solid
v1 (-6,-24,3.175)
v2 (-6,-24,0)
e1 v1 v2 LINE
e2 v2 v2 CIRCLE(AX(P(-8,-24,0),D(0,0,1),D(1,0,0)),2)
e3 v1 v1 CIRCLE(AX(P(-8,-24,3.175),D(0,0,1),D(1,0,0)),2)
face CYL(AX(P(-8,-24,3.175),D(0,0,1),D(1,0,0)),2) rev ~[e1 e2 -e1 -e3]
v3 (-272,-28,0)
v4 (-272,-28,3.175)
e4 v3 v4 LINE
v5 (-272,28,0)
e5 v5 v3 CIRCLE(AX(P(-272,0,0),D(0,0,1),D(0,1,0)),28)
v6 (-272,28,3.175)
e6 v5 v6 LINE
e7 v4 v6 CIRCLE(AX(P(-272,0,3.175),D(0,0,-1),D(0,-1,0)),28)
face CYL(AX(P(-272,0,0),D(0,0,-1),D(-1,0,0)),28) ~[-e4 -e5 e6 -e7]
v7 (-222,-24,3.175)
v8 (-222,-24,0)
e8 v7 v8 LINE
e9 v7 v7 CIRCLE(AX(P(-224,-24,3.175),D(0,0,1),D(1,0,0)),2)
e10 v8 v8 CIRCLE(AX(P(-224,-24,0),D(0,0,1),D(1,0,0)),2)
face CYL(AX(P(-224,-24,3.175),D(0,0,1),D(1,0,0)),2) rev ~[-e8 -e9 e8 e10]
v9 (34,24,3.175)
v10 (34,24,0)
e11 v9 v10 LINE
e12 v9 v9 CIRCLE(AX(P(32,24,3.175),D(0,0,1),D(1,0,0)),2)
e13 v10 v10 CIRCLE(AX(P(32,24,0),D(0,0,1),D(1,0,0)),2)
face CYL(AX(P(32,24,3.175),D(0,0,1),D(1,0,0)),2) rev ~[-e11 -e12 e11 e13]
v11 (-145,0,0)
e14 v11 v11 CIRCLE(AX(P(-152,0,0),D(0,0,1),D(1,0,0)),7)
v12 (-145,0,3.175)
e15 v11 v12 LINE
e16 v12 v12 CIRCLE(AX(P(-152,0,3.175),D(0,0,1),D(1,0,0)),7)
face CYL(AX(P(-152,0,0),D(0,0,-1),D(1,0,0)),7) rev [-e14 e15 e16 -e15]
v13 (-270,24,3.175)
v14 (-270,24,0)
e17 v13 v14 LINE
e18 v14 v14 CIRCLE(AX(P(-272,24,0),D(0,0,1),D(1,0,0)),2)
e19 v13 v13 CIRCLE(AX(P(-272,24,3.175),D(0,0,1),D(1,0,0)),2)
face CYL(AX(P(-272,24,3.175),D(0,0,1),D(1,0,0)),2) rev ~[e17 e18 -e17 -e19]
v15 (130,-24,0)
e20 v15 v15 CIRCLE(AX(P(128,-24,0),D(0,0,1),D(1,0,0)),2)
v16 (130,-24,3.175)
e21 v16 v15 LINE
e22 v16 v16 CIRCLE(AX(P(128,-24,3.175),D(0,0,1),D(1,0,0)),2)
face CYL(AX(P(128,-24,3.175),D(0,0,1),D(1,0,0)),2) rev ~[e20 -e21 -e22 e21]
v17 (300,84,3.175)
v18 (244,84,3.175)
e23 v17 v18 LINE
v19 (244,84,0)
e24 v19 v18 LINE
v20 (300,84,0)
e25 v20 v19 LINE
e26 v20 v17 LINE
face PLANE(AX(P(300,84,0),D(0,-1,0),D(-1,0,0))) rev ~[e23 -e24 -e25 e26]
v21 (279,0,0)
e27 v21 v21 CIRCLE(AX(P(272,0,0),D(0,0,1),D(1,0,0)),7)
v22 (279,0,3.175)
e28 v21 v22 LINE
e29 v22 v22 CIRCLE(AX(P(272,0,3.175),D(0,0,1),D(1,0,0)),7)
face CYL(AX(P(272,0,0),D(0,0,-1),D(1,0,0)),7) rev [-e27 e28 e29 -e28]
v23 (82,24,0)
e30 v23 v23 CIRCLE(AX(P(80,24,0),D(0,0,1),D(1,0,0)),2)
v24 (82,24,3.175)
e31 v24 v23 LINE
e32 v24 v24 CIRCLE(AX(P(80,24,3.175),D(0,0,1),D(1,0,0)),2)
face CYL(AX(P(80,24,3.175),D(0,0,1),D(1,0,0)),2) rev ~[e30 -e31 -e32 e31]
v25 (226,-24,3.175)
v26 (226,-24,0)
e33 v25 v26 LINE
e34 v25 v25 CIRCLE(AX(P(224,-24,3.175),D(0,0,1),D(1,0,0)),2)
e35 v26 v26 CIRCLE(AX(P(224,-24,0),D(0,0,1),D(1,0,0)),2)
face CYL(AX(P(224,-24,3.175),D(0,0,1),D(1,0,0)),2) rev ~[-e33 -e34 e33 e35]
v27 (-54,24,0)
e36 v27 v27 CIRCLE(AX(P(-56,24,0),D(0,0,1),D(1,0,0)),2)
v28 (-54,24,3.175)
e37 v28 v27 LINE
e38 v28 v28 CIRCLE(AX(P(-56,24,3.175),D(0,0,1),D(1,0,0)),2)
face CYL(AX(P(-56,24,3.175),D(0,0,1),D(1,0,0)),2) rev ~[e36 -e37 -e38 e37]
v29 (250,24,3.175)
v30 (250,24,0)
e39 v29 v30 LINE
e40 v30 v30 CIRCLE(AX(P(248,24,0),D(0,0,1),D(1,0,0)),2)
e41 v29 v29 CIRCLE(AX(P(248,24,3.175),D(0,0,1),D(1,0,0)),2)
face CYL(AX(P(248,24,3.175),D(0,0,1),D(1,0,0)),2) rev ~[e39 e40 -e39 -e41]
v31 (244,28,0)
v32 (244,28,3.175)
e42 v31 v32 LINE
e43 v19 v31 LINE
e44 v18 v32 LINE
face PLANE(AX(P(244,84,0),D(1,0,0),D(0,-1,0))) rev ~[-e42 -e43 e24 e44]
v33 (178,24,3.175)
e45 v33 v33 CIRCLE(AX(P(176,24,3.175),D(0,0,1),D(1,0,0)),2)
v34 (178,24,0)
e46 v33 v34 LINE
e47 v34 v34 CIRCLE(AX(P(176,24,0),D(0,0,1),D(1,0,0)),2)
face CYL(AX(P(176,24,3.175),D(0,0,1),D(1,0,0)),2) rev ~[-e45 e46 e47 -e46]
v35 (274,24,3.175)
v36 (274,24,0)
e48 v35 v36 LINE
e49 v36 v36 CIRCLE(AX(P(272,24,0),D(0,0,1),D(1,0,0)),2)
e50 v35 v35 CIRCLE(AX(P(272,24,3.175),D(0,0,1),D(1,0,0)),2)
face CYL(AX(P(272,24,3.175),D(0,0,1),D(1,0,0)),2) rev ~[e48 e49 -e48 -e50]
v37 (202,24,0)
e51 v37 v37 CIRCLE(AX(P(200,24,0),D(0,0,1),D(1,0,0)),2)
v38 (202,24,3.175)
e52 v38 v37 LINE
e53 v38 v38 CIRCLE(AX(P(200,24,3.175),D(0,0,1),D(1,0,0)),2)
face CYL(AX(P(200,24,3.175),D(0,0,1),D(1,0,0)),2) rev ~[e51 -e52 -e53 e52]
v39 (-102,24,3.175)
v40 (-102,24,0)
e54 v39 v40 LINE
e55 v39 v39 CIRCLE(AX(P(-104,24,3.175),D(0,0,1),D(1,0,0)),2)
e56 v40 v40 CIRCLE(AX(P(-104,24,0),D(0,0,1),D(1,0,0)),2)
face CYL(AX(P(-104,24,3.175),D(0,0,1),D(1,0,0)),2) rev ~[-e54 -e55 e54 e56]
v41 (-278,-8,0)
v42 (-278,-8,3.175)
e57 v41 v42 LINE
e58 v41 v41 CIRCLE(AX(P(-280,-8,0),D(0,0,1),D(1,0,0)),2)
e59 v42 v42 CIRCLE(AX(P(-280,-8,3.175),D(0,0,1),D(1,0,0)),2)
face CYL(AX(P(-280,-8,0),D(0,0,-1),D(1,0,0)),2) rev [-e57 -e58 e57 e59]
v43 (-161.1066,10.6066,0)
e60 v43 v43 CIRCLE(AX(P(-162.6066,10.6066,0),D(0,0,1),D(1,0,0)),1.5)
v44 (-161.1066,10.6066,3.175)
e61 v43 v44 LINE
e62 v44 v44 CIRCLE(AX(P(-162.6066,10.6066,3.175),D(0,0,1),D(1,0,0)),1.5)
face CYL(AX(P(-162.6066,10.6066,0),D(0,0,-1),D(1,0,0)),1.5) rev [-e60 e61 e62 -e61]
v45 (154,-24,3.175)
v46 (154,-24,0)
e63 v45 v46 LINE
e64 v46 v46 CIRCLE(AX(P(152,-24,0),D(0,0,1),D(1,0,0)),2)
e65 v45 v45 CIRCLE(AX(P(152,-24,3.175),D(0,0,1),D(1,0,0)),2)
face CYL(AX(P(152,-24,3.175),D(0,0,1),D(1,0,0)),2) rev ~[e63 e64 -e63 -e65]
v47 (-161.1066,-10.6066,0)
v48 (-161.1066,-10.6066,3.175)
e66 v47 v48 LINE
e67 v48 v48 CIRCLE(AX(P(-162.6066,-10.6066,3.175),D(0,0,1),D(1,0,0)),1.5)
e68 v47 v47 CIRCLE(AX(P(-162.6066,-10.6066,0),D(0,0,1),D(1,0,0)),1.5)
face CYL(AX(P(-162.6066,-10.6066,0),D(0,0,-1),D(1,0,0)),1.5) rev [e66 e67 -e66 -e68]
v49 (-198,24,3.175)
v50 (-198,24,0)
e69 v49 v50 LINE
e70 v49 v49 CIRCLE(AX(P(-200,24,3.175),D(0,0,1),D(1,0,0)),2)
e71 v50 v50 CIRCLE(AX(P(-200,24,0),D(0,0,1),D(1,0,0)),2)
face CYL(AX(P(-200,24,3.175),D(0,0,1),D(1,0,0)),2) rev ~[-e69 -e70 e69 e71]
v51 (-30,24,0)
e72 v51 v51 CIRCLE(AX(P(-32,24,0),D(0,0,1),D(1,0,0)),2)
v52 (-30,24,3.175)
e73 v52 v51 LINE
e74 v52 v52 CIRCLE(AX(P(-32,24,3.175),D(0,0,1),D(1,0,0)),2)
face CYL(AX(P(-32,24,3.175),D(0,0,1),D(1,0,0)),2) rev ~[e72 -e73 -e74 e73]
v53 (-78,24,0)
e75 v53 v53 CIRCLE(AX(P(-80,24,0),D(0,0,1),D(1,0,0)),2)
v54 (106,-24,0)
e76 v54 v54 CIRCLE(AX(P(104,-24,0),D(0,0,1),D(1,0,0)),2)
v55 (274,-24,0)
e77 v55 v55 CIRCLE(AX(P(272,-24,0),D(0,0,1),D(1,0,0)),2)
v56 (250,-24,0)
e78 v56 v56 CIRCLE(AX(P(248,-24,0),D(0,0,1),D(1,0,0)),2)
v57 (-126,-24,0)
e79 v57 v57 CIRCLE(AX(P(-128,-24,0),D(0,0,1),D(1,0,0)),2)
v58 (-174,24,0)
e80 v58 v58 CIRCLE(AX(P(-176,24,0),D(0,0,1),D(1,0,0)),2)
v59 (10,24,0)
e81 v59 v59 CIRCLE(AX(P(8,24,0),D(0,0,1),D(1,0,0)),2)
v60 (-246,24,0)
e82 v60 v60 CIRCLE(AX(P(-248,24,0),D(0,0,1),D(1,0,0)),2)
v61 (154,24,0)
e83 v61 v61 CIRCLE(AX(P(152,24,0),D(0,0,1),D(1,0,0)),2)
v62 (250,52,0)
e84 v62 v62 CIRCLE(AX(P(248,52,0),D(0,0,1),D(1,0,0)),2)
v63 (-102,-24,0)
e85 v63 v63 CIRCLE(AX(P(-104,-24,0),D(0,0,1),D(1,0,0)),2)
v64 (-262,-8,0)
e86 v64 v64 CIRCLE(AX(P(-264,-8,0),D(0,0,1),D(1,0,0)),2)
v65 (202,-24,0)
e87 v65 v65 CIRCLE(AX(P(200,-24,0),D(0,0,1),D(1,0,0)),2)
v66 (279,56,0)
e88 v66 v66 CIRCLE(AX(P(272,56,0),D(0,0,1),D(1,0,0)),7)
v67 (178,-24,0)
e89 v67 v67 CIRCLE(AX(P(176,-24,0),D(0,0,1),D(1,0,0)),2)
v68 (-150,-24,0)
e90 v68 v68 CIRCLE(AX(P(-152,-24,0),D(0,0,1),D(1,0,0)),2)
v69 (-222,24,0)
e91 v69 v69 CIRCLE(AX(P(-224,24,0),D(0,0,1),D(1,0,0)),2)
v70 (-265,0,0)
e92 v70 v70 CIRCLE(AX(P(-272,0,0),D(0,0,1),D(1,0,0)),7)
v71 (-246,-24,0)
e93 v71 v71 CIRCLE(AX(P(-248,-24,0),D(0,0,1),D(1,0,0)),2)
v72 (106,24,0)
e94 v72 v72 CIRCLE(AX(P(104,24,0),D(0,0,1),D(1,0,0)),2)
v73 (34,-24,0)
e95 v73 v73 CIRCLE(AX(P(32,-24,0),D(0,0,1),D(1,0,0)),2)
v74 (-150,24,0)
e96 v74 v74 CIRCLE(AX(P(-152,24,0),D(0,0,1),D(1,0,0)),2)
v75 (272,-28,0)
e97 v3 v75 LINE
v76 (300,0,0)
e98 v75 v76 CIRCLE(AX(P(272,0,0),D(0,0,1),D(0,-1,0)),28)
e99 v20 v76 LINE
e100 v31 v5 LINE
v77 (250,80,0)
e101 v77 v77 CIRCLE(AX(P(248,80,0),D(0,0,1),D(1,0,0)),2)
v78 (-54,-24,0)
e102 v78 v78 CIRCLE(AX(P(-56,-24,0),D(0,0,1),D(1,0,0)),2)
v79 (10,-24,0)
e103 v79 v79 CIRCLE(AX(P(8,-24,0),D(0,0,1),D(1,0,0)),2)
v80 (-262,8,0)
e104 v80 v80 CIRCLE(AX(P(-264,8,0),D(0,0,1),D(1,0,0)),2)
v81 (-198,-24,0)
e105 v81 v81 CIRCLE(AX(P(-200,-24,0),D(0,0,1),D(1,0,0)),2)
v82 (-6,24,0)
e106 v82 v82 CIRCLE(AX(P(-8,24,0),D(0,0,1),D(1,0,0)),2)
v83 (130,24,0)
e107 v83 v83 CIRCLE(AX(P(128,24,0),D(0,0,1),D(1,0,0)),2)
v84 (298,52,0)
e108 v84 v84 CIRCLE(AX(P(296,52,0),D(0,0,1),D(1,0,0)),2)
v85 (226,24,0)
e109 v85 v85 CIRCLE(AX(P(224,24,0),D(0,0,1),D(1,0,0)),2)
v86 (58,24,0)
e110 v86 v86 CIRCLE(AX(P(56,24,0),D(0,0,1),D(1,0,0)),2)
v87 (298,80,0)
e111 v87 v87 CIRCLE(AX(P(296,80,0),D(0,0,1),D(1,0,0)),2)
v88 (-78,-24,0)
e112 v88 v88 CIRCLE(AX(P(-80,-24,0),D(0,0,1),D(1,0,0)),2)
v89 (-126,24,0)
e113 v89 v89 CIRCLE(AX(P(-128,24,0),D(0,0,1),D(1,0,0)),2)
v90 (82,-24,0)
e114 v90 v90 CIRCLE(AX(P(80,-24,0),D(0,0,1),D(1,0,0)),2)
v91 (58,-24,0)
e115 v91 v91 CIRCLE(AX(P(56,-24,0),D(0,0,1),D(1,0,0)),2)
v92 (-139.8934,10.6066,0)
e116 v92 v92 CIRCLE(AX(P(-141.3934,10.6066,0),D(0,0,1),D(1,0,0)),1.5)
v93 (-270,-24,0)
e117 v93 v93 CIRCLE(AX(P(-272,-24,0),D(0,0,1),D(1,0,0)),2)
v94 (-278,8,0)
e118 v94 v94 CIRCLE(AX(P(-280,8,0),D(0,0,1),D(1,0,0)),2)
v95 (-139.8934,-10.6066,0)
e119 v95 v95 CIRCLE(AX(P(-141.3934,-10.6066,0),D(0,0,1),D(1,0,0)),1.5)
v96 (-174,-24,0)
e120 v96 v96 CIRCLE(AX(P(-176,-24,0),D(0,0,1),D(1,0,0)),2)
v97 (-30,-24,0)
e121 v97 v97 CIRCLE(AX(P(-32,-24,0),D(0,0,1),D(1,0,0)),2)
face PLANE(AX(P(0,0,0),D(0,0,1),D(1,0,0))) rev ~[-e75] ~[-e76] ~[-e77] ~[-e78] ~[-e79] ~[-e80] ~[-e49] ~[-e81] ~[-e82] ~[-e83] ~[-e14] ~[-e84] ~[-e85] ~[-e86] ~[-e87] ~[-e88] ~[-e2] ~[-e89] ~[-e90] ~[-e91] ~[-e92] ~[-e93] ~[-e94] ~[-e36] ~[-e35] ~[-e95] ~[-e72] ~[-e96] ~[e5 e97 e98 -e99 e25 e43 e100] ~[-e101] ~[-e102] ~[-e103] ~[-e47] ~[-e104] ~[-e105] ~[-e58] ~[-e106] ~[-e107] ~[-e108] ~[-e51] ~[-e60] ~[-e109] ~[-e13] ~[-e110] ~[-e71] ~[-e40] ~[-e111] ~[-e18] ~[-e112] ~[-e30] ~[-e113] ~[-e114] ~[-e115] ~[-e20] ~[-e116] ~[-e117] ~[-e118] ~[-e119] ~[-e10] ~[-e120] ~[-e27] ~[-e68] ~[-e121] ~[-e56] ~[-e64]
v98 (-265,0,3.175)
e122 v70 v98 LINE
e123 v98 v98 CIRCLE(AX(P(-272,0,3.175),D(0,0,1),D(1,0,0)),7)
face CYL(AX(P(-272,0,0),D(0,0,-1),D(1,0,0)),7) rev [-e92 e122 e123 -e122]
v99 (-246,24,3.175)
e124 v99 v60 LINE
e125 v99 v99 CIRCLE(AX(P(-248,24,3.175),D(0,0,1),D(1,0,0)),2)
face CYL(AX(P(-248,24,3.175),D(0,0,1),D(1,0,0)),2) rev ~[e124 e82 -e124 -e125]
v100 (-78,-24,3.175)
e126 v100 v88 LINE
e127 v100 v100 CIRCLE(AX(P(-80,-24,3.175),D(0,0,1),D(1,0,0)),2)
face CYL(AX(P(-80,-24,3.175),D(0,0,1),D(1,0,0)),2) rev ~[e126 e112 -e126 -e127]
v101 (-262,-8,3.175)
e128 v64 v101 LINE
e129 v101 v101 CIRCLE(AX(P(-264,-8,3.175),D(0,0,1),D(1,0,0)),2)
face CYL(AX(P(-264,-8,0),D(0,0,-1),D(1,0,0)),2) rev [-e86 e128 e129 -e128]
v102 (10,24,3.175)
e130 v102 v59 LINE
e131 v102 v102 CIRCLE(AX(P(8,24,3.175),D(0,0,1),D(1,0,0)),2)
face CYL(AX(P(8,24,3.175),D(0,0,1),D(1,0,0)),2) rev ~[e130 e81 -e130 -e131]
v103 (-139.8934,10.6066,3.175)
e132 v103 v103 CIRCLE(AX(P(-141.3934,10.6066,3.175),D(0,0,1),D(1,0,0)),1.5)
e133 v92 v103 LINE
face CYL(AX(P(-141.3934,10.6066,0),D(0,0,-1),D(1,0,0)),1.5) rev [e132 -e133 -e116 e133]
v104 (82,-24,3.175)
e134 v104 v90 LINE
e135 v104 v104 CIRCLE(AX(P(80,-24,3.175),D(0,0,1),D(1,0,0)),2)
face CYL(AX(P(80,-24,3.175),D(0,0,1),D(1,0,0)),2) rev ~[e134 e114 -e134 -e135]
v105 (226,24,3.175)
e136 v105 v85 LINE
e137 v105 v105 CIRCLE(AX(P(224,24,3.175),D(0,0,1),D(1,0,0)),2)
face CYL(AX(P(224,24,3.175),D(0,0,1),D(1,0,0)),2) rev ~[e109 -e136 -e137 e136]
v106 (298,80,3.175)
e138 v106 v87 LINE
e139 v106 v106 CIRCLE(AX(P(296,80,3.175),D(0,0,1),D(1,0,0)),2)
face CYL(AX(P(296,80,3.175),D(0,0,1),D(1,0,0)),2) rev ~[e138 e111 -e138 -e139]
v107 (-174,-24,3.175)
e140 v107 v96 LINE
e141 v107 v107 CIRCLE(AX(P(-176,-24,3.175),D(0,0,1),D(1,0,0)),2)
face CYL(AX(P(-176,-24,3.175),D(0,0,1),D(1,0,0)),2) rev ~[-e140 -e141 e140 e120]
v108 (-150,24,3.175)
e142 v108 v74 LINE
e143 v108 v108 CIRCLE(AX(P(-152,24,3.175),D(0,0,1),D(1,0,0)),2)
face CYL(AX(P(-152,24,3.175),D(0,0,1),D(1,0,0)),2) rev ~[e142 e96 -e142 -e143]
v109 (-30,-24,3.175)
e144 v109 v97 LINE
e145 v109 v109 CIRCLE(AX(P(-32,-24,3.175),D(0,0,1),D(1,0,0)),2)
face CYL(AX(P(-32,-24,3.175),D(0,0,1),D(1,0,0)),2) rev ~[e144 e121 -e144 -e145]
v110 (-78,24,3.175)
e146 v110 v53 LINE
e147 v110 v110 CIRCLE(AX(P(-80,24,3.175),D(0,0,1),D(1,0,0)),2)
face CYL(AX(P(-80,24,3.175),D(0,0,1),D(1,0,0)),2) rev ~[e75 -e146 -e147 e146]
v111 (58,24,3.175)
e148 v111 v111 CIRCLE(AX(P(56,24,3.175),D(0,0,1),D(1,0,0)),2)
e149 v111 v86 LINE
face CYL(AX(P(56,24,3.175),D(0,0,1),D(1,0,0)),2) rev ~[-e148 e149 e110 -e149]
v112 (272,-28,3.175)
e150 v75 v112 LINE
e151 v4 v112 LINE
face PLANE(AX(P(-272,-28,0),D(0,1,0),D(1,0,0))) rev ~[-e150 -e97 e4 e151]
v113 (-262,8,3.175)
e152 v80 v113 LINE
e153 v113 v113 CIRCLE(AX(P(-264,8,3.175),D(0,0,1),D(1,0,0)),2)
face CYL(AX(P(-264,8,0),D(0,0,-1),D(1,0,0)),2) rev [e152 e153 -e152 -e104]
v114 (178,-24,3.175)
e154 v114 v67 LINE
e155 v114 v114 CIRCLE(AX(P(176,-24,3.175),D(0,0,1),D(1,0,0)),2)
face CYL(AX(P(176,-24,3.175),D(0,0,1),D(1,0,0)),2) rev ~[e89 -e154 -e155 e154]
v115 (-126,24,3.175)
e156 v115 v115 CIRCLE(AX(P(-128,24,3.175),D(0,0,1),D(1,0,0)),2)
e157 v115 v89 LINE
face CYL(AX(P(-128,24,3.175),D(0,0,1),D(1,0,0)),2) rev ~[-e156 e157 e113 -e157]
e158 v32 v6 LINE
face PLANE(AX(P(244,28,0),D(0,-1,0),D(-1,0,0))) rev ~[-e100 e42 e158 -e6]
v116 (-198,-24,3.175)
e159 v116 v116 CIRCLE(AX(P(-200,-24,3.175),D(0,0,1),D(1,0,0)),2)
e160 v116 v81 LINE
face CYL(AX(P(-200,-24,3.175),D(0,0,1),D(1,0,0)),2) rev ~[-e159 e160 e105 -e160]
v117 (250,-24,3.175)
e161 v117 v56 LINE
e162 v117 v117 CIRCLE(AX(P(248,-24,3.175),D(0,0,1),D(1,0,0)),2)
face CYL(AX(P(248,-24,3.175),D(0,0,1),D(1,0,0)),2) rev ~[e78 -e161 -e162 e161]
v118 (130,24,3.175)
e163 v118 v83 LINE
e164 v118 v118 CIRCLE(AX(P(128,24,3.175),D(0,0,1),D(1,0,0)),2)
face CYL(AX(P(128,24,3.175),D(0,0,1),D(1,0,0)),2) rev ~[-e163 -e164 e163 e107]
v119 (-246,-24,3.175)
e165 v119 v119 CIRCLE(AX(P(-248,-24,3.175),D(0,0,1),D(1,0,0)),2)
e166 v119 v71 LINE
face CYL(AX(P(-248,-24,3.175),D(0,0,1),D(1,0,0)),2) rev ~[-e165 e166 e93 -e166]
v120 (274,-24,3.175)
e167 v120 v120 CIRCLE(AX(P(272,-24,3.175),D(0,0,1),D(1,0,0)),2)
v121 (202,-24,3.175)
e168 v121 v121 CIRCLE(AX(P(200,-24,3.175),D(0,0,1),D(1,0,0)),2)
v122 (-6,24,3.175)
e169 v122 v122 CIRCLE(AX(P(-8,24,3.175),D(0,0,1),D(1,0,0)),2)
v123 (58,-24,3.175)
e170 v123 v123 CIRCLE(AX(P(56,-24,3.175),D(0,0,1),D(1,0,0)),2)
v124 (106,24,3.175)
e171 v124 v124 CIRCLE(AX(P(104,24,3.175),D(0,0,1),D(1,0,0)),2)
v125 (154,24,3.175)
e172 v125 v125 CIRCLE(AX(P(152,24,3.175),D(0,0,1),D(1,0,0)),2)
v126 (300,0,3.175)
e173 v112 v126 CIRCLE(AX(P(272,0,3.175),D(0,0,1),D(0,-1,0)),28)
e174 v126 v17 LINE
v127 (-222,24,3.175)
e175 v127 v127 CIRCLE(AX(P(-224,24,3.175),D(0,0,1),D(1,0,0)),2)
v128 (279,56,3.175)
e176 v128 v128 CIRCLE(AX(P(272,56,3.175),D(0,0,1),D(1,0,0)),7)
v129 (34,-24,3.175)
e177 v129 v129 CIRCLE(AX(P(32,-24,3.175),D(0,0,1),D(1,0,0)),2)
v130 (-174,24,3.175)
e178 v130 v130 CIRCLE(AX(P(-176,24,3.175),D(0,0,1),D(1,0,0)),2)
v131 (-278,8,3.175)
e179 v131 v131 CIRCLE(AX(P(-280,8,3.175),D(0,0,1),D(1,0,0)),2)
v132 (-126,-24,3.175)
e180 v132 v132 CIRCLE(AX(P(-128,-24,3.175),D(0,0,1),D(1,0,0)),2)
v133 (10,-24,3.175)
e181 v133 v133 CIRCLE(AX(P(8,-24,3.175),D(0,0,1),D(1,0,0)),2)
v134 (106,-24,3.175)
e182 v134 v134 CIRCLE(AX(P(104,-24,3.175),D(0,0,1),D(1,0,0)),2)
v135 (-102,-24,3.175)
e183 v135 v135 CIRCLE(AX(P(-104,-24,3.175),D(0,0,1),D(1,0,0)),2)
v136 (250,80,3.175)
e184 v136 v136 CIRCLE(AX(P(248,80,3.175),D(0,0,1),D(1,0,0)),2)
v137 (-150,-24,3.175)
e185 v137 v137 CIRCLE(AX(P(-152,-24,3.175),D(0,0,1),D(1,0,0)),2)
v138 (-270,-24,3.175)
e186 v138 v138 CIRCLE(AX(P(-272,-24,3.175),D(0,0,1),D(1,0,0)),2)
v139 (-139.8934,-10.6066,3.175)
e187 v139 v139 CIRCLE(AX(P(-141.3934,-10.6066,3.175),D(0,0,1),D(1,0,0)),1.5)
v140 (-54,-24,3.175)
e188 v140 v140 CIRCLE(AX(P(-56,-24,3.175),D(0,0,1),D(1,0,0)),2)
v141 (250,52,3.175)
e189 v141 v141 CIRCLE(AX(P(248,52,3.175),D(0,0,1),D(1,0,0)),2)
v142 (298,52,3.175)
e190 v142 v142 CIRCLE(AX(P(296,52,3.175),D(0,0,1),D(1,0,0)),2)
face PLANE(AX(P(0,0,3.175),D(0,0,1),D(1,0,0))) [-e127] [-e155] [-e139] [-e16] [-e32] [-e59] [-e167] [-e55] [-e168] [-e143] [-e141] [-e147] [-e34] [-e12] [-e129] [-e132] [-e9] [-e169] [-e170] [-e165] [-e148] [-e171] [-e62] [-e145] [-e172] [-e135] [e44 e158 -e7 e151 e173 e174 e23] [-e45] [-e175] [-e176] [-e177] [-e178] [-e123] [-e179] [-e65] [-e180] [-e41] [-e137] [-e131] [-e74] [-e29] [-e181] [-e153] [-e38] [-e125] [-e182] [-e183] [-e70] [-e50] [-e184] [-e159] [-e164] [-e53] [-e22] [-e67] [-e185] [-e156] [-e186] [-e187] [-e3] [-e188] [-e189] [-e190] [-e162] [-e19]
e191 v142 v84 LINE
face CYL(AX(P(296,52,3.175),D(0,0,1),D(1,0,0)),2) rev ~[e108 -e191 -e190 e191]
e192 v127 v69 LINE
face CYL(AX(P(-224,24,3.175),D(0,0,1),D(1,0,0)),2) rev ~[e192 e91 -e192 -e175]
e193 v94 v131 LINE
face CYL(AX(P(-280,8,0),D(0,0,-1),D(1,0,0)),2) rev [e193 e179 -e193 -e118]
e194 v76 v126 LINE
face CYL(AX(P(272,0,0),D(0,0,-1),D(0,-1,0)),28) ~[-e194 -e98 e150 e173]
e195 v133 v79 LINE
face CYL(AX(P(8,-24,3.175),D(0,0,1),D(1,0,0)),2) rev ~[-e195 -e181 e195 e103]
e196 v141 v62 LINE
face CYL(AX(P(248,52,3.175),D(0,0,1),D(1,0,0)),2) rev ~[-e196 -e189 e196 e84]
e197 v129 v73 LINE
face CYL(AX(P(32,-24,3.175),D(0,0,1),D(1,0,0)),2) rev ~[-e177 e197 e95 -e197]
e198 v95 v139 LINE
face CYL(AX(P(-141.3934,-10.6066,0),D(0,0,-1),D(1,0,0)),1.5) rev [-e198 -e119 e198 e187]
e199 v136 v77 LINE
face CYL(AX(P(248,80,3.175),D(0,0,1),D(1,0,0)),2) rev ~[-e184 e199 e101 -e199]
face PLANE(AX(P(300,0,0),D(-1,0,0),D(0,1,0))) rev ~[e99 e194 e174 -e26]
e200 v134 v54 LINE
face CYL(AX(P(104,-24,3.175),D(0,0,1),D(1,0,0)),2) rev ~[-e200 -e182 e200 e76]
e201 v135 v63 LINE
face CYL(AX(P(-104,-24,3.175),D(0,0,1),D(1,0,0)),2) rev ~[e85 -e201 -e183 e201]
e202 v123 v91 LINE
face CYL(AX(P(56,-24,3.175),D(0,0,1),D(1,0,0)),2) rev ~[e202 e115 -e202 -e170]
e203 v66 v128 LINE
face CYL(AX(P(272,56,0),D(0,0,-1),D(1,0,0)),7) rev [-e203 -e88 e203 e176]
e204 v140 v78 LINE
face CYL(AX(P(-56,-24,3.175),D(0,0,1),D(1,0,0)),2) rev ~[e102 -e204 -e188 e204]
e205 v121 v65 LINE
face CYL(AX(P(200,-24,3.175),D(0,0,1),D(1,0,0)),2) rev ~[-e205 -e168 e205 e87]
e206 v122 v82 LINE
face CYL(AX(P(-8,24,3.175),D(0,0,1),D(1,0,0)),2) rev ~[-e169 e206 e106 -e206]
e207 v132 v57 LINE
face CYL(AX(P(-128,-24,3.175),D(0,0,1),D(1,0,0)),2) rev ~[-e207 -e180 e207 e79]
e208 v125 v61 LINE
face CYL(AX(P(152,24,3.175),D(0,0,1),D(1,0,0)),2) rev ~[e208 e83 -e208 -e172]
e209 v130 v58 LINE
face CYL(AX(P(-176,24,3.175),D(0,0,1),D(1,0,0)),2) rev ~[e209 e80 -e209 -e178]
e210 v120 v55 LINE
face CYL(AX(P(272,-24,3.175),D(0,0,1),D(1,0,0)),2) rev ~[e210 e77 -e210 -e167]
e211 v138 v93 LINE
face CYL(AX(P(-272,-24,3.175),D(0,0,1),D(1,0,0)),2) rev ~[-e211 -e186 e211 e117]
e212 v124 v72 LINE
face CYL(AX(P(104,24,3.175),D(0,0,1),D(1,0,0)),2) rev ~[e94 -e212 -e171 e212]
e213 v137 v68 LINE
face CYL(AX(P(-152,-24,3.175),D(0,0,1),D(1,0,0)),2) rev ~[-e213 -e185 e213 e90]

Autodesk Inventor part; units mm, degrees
ref_plane "YZ Plane" through (0, 0, 0) normal (1, 0, 0) x (0, 1, 0)
ref_plane "XZ Plane" through (0, 0, 0) normal (0, 1, 0) x (-1, 0, 0)
ref_plane "XY Plane" through (0, 0, 0) normal (0, 0, 1) x (1, 0, 0)
sketch "Sketch1" plane through (0, 0, 0) normal (0, 0, 1) x (1, 0, 0)
  line L0 (-272, -28) -> (272, -28)
  line L1 (300, 0) -> (300, 28)
  line L2 (300, 28) -> (-272, 28) construction
  line L3 (-300, 0) -> (-300, 0)
  line L4 (-300, -28) -> (300, 28) construction
  line L5 (300, -28) -> (-300, 28) construction
  arc A0 (-272, 28) -> (-300, 0) centre (-272, 0) ccw
  arc A1 (-300, 0) -> (-272, -28) centre (-272, 0) ccw
  circle A2 centre (-152, 0) radius 7
  circle A3 centre (-162.6066, 10.6066) radius 1.5
  line L6 (-152, 0) -> (-162.6066, 10.6066) construction
  line L7 (-152, 0) -> (-272, 0) construction
  circle A4 centre (-162.6066, -10.6066) radius 1.5
  circle A5 centre (-141.3934, -10.6066) radius 1.5
  circle A6 centre (-141.3934, 10.6066) radius 1.5
  arc A7 (272, -28) -> (300, 0) centre (272, 0) ccw
  circle A8 centre (272, 0) radius 7
  line L8 (300, 28) -> (300, 84)
  line L9 (300, 84) -> (244, 84)
  line L10 (244, 84) -> (244, 28)
  line L11 (244, 28) -> (-272, 28)
  circle A9 centre (272, 56) radius 7
  circle A10 centre (-272, 0) radius 7
  circle A11 centre (-280, 8) radius 2
  circle A12 centre (-280, -8) radius 2
  circle A13 centre (-264, -8) radius 2
  circle A14 centre (-264, 8) radius 2
  point P0 (0, 0)
  point P1 (-300, 0)
  dimension "d0" = 600
  dimension "d1" = 56
  dimension "d3" = 28
  dimension "d4" = 14
  dimension "d5" = 120
  dimension "d6" = 3
  dimension "d7" = 45
  dimension "d8" = 15
  dimension "d11" = 360
  dimension "d13" = 28
  dimension "d16" = 14
  dimension "d17" = 56
  dimension "d18" = 56
  dimension "d19" = 14
  dimension "d20" = 56
  dimension "d21" = 14
  dimension "d22" = 4
  dimension "d23" = 8
  dimension "d24" = 8
  dimension "d27" = 360
extrude "Extrusion1" add sketch "Sketch1" along normal blind 3.175
sketch "Sketch2" plane through (0, 0, 3.175) normal (0, 0, 1) x (1, 0, 0)
  line L0 (244, 28) -> (-272, 28) construction
  circle A0 centre (-272, 24) radius 2
  circle A1 centre (-248, 24) radius 2
  circle A2 centre (-224, 24) radius 2
  circle A3 centre (-200, 24) radius 2
  circle A4 centre (-176, 24) radius 2
  circle A5 centre (-152, 24) radius 2
  circle A6 centre (-128, 24) radius 2
  circle A7 centre (-104, 24) radius 2
  circle A8 centre (-80, 24) radius 2
  circle A9 centre (-56, 24) radius 2
  circle A10 centre (-32, 24) radius 2
  circle A11 centre (-8, 24) radius 2
  line L1 (0, 28) -> (0, -28) construction
  line L2 (-272, -28) -> (272, -28) construction
  circle A12 centre (272, 24) radius 2
  circle A13 centre (248, 24) radius 2
  circle A14 centre (224, 24) radius 2
  circle A15 centre (200, 24) radius 2
  circle A16 centre (176, 24) radius 2
  circle A17 centre (152, 24) radius 2
  circle A18 centre (128, 24) radius 2
  circle A19 centre (104, 24) radius 2
  circle A20 centre (80, 24) radius 2
  circle A21 centre (56, 24) radius 2
  circle A22 centre (32, 24) radius 2
  circle A23 centre (8, 24) radius 2
  arc A24 (-272, 28) -> (-272, -28) centre (-272, 0) ccw construction
  arc A25 (272, -28) -> (300, 0) centre (272, 0) ccw construction
  line L3 (-300, 0) -> (300, 0) construction
  line L4 (244, -28) -> (-272, -28) construction
  circle A26 centre (-272, -24) radius 2
  circle A27 centre (-248, -24) radius 2
  circle A28 centre (-224, -24) radius 2
  circle A29 centre (-200, -24) radius 2
  circle A30 centre (-176, -24) radius 2
  circle A31 centre (-152, -24) radius 2
  circle A32 centre (-128, -24) radius 2
  circle A33 centre (-104, -24) radius 2
  circle A34 centre (-80, -24) radius 2
  circle A35 centre (-56, -24) radius 2
  circle A36 centre (-32, -24) radius 2
  circle A37 centre (-8, -24) radius 2
  circle A38 centre (80, -24) radius 2
  circle A39 centre (56, -24) radius 2
  circle A40 centre (32, -24) radius 2
  circle A41 centre (8, -24) radius 2
  circle A42 centre (104, -24) radius 2
  circle A43 centre (128, -24) radius 2
  circle A44 centre (152, -24) radius 2
  circle A45 centre (176, -24) radius 2
  circle A46 centre (200, -24) radius 2
  circle A47 centre (224, -24) radius 2
  circle A48 centre (248, -24) radius 2
  circle A49 centre (272, -24) radius 2
  circle A50 centre (248, 80) radius 2
  line L5 (244, 84) -> (244, 28) construction
  line L6 (300, 84) -> (244, 84) construction
  circle A51 centre (296, 80) radius 2
  line L7 (300, 0) -> (300, 84) construction
  circle A52 centre (248, 52) radius 2
  circle A53 centre (296, 52) radius 2
  point P0 (0, 0)
  point P1 (272, 28)
  dimension "d29" = 4
  dimension "d30" = 4
  dimension "d33" = 24
  dimension "d38" = 4
  dimension "d39" = 4
  dimension "d40" = 4
  dimension "d41" = 4
  dimension "d42" = 4
  dimension "d43" = 4
  dimension "d44" = 4
  dimension "d45" = 28
  dimension "d46" = 4
extrude "Extrusion2" cut sketch "Sketch2" against normal through all
equation "\"d3\" = 0.5 * d1"
equation "\"d13\" = d3"
properties part number "FirstStageArmBar1"
